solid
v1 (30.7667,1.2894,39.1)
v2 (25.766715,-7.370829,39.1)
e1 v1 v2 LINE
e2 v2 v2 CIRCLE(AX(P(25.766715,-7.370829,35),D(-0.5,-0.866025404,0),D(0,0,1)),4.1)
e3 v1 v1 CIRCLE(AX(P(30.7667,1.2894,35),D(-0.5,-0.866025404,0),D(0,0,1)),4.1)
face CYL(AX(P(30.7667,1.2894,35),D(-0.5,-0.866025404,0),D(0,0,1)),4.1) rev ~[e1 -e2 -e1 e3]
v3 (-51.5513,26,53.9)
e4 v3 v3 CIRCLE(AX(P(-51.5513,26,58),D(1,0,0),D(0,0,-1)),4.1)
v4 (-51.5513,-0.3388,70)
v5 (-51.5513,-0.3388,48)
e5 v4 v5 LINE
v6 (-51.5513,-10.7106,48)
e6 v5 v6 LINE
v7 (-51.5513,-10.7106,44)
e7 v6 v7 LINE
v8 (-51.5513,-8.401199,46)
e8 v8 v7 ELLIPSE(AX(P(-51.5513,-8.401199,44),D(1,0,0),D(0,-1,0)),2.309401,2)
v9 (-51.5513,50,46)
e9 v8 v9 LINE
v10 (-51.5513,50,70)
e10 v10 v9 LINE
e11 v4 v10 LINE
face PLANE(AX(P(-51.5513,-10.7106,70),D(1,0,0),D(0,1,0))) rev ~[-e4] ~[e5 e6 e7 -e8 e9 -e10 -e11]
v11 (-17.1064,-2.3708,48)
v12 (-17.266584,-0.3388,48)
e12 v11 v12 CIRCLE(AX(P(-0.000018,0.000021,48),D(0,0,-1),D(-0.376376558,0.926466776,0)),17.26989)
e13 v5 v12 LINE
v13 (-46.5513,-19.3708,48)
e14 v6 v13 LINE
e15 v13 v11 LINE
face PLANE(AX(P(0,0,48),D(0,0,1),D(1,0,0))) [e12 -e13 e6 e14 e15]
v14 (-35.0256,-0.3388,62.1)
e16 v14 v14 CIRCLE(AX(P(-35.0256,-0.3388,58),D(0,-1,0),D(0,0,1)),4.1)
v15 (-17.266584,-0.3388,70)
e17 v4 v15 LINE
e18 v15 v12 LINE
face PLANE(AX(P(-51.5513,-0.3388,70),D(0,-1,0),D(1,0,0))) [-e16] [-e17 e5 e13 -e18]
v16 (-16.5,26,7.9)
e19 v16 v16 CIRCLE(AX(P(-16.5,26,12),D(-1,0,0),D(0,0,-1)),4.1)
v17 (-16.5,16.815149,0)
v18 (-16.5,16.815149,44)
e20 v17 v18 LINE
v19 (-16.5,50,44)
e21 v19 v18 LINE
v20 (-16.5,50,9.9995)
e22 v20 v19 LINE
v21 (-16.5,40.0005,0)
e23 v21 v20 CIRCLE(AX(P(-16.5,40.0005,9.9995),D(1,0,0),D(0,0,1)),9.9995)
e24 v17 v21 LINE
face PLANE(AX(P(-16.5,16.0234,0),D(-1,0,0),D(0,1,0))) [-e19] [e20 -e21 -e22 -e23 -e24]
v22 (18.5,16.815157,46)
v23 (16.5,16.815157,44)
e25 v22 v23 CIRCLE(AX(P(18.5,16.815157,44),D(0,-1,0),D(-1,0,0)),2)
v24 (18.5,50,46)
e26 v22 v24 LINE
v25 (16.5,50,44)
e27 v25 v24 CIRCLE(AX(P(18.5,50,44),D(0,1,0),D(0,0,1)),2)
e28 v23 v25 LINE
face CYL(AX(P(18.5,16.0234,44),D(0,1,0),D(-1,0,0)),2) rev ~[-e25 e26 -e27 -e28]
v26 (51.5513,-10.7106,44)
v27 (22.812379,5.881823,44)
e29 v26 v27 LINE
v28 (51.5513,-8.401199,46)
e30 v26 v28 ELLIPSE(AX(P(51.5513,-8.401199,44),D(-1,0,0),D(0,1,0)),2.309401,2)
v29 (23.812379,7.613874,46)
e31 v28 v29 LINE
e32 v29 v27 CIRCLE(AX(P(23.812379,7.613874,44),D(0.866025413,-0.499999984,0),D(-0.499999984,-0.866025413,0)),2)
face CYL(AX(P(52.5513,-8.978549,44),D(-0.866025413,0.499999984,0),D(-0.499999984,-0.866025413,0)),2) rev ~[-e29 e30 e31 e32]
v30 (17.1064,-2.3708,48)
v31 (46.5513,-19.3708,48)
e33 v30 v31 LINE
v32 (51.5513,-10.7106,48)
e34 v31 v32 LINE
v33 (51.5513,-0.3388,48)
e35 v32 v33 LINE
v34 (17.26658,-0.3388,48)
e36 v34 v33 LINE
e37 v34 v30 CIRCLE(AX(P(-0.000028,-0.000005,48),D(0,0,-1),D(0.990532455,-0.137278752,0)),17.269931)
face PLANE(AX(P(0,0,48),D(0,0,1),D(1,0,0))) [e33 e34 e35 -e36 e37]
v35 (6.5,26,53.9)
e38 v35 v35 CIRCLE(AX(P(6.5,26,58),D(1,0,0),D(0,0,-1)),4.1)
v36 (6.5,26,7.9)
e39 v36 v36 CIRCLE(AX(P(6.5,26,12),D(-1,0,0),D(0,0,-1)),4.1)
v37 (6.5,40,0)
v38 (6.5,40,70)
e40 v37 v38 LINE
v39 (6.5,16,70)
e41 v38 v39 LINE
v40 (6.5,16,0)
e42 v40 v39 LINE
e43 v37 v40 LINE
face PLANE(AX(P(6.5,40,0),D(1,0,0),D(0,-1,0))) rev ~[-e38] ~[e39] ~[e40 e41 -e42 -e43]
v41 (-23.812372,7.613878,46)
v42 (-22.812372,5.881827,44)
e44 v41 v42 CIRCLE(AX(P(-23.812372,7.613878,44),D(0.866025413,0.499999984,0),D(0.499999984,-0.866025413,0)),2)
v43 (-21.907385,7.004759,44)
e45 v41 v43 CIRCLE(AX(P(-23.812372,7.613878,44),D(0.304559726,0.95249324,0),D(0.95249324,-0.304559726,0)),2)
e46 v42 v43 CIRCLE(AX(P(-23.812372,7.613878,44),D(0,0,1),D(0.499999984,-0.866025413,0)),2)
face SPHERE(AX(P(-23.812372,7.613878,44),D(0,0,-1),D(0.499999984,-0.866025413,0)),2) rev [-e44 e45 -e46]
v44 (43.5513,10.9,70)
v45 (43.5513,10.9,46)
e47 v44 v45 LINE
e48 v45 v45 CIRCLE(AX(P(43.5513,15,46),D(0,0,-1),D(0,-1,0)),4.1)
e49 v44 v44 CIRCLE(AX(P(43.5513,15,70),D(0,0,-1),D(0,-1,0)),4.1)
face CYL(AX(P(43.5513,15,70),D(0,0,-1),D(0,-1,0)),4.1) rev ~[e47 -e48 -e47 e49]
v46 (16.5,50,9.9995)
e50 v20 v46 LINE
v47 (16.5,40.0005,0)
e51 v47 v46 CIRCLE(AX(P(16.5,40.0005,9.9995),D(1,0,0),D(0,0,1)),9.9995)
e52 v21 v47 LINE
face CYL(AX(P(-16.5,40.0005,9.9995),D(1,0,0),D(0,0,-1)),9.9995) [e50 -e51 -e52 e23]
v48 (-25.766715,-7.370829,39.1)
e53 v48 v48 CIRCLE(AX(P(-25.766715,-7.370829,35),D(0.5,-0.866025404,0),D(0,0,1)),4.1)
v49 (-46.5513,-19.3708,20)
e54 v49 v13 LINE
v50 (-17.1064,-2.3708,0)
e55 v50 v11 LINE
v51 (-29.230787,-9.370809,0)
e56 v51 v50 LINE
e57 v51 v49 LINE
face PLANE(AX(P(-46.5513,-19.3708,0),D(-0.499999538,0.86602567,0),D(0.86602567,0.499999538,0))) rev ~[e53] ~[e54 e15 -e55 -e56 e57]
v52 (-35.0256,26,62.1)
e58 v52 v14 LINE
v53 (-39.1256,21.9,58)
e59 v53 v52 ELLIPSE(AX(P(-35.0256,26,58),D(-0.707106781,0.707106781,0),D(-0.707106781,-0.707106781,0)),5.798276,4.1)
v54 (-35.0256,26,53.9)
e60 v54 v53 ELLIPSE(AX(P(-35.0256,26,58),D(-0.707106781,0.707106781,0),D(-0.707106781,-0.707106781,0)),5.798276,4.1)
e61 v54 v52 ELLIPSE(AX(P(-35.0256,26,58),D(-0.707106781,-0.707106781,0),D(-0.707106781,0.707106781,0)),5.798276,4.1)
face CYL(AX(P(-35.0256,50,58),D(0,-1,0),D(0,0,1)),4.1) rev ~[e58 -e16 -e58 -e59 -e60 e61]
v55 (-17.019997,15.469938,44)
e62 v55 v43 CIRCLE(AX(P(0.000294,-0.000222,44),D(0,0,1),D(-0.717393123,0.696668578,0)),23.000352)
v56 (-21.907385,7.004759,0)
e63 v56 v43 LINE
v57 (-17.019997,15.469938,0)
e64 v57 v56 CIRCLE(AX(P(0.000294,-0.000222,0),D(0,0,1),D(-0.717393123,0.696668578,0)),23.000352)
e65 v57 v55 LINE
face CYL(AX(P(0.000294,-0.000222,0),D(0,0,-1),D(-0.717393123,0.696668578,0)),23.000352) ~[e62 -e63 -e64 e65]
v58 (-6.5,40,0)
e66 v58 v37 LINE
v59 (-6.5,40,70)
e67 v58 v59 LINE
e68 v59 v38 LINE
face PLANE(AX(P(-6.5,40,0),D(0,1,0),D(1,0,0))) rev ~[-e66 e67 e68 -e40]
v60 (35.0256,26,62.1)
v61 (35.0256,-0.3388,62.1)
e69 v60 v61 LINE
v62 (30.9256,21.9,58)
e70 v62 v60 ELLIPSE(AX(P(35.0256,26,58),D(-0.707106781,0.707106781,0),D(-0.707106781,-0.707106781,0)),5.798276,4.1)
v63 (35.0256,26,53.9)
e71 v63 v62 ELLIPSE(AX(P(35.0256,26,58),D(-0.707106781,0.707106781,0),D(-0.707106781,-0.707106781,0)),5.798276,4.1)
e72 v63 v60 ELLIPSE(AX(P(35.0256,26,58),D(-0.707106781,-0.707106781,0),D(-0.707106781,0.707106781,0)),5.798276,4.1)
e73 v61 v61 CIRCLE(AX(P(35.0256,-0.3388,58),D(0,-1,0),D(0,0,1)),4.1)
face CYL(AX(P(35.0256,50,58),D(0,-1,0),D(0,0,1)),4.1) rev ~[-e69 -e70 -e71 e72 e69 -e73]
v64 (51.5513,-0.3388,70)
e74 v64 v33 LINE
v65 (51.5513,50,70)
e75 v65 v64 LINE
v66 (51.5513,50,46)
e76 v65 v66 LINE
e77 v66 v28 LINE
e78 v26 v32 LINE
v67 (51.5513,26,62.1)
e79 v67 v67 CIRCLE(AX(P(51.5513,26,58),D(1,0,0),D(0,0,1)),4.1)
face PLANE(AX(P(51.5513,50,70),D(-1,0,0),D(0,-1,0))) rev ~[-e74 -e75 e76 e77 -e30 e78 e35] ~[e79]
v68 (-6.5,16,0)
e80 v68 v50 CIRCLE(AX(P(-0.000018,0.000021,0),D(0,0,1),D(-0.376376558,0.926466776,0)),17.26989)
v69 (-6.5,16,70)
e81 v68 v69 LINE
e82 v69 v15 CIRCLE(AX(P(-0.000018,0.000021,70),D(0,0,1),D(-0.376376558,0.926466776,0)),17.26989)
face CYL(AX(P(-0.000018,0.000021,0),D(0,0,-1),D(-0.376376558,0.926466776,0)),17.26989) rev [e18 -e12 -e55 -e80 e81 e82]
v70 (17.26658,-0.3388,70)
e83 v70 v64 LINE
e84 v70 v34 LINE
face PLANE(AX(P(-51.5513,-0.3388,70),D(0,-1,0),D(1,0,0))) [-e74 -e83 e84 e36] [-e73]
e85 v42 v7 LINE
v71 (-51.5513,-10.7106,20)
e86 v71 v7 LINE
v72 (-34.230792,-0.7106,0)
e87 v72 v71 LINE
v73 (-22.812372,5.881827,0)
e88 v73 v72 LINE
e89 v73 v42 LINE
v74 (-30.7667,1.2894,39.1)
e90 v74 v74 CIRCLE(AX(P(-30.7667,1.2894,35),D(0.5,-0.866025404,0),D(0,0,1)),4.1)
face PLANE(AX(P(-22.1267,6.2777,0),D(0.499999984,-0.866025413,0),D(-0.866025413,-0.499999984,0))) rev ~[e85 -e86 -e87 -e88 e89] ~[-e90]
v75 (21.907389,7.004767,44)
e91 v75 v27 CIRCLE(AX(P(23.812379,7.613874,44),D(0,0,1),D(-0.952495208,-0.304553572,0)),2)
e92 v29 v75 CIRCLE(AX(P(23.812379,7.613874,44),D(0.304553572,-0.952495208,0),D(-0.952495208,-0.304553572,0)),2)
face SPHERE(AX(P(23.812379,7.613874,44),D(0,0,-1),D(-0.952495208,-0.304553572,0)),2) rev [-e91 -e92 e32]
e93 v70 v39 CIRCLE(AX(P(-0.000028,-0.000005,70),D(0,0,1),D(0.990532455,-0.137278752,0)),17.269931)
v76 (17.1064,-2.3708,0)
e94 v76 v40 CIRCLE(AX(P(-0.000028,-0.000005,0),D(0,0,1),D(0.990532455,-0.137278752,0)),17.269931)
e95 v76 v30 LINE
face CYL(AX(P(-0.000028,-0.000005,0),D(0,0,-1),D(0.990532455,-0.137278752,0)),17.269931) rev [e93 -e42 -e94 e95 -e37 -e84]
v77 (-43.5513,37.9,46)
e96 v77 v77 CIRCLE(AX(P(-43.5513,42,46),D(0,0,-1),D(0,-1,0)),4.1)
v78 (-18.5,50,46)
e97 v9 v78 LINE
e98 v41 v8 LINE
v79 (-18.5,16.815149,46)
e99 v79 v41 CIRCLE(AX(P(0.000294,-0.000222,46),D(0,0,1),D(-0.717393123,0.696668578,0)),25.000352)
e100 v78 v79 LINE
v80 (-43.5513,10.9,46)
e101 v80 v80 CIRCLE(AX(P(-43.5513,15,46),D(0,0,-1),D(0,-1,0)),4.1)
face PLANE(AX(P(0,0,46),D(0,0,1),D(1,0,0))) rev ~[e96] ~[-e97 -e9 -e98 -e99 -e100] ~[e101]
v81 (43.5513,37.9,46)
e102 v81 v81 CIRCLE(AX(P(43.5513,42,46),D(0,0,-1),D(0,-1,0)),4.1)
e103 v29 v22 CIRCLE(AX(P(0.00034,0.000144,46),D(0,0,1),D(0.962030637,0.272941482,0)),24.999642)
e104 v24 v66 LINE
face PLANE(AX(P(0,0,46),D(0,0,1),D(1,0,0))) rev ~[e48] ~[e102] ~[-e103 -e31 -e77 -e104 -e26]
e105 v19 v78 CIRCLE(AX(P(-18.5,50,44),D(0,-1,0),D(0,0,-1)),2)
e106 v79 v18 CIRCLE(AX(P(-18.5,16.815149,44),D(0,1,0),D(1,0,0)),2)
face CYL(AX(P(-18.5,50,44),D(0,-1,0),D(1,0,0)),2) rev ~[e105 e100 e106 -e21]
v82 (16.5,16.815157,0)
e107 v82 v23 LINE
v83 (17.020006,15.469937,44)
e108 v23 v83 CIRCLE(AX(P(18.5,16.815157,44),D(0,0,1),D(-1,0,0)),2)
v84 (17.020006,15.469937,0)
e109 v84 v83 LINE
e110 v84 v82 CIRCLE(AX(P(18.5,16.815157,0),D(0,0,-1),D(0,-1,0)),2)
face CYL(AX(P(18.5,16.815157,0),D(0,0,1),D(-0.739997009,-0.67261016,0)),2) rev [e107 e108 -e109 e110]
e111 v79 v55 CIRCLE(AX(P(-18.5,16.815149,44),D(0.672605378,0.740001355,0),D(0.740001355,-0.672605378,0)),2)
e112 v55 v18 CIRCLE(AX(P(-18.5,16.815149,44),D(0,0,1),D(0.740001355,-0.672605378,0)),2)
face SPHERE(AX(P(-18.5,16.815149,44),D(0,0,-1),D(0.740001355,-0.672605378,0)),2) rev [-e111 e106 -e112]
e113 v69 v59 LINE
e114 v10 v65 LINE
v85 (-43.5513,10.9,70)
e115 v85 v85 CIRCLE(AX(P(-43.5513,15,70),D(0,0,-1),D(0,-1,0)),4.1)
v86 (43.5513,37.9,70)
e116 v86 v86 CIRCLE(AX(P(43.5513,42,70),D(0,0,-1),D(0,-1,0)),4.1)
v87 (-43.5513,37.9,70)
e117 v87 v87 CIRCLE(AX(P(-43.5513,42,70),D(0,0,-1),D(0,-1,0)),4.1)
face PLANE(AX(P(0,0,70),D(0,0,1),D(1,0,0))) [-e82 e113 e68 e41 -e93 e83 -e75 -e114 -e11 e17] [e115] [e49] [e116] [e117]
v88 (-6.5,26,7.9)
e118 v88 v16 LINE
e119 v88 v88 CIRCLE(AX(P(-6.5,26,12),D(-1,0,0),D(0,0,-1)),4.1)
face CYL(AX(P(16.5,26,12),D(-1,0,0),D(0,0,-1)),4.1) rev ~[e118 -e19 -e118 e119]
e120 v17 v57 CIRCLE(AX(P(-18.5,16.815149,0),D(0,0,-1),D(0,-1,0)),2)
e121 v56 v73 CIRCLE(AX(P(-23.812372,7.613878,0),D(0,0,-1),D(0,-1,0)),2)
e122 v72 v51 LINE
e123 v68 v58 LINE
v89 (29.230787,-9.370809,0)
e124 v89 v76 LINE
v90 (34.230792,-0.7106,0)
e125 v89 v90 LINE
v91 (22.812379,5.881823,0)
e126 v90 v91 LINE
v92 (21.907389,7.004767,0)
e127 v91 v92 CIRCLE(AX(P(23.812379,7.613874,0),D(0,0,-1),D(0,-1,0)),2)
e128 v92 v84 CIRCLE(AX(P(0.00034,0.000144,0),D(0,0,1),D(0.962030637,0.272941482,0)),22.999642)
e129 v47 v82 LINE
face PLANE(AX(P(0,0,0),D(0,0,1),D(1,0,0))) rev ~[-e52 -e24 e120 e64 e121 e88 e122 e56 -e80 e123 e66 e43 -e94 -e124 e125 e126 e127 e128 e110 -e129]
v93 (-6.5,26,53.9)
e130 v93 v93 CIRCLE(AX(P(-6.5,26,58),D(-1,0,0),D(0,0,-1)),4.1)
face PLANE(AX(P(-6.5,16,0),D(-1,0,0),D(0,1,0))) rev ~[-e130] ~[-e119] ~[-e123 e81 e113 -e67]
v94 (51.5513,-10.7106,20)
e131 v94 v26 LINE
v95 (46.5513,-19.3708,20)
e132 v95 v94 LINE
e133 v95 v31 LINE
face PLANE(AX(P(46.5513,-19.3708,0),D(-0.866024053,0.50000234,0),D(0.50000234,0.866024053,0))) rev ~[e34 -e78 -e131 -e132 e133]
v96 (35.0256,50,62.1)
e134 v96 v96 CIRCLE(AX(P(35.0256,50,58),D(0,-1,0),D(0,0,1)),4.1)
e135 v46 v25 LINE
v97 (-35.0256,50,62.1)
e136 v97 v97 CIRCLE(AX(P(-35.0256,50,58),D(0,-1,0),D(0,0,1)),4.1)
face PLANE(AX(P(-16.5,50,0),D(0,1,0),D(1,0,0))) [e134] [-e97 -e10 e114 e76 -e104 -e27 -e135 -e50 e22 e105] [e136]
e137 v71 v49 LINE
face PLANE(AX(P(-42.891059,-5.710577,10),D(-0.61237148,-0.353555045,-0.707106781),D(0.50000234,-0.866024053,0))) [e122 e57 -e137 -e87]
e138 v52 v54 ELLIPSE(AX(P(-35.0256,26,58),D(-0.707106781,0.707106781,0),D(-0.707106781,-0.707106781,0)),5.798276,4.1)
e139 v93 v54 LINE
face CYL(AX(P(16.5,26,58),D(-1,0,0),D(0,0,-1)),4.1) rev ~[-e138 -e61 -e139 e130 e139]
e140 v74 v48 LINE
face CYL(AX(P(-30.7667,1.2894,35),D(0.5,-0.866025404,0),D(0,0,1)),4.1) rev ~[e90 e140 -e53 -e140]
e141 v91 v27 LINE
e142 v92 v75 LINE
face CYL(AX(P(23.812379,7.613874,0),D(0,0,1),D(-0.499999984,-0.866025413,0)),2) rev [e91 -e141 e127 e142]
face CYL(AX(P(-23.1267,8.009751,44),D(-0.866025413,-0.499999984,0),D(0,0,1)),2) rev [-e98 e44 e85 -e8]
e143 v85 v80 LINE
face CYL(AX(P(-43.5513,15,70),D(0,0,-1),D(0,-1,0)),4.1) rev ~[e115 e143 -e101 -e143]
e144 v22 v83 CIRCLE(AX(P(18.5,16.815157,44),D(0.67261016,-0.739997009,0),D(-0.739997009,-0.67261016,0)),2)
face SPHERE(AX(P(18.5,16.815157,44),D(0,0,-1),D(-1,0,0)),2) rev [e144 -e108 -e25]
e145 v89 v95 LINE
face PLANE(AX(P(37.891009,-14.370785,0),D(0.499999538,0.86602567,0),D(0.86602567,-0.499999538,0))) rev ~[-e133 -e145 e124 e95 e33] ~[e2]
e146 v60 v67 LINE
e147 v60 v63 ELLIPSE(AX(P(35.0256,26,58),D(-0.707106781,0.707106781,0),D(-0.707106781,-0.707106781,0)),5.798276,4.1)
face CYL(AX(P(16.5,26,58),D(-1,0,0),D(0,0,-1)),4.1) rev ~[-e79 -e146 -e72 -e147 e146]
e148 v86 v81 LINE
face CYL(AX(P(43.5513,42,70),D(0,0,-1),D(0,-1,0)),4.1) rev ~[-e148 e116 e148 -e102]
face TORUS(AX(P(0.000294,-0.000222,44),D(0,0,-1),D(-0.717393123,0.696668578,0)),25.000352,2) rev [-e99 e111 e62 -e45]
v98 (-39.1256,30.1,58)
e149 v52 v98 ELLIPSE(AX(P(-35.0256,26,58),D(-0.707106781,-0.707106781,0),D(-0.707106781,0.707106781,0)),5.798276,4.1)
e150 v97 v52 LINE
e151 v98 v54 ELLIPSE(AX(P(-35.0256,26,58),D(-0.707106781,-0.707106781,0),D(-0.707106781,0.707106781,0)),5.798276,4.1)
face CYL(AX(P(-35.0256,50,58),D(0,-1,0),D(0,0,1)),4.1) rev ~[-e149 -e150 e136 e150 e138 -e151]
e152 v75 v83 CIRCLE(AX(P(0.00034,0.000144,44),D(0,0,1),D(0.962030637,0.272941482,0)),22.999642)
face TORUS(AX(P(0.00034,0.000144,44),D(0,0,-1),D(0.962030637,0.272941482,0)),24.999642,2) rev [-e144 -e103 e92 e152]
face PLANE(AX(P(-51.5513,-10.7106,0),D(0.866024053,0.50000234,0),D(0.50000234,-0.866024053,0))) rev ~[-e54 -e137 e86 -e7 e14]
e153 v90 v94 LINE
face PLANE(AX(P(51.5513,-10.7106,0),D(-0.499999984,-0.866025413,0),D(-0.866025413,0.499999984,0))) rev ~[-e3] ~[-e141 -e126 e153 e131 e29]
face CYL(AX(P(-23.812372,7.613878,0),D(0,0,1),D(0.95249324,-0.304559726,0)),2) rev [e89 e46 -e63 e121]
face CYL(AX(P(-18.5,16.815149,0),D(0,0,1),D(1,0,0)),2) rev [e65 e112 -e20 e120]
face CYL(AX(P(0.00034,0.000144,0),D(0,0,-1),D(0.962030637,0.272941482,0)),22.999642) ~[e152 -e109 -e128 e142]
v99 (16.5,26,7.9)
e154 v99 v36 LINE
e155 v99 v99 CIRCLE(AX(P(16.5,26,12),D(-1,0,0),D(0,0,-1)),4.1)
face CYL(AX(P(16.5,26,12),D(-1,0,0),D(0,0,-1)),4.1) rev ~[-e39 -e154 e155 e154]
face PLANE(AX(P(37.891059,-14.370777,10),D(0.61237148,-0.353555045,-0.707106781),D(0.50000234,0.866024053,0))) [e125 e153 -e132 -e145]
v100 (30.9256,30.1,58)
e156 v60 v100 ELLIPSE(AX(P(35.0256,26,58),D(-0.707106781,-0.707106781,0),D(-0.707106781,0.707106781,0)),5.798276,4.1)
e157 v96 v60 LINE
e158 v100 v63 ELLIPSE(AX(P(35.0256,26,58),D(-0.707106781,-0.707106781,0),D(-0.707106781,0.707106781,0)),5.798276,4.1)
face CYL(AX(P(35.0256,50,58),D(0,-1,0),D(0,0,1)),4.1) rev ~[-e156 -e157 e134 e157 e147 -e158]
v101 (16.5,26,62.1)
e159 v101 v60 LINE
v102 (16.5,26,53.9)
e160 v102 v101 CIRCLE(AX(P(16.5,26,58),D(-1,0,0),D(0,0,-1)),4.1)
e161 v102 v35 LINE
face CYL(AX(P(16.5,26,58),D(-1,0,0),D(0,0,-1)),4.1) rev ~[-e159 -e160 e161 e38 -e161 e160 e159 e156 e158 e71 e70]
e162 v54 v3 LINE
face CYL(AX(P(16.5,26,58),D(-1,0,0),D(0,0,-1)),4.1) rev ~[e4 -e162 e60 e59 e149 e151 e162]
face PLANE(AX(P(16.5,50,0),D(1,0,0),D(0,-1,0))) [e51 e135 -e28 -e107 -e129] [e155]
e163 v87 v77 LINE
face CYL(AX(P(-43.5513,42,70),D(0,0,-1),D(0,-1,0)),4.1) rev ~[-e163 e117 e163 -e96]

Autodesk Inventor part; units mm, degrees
ref_plane "YZ Plane" through (0, 0, 0) normal (1, 0, 0) x (0, 1, 0)
ref_plane "XZ Plane" through (0, 0, 0) normal (0, 1, 0) x (-1, 0, 0)
ref_plane "XY Plane" through (0, 0, 0) normal (0, 0, 1) x (1, 0, 0)
sketch "Sketch1" plane through (0, 0, 0) normal (0, 0, 1) x (1, 0, 0)
  circle A0 centre (0, 0) radius 15 construction
  circle A1 centre (0, 0) radius 26 construction
  line L0 (3.5, 37) -> (-3.5, 37) construction
  line L1 (-3.5, 37) -> (-3.5, 15) construction
  line L2 (-3.5, 15) -> (3.5, 15) construction
  line L3 (3.5, 15) -> (3.5, 37) construction
  line L4 (3.5, 37) -> (-3.5, 15) construction
  line L5 (-3.5, 37) -> (3.5, 15) construction
  line L6 (-6.5, 16) -> (-6.5, 40) construction
  line L7 (-6.5, 40) -> (6.5, 40) construction
  line L8 (6.5, 40) -> (6.5, 16) construction
  circle A2 centre (0, 0) radius 17.2699 construction
  line L9 (-16.5, 16) -> (-16.5, 50) construction
  line L10 (-16.5, 50) -> (16.5, 50) construction
  line L11 (16.5, 50) -> (16.5, 16) construction
  circle A3 centre (0, 0) radius 23 construction
  line L12 (-25, 26) -> (25, 26) construction
  line L13 (-25, 30) -> (25, 30) construction
  line L14 (-25, 22) -> (25, 22) construction
  line L15 (-35.0513, -39.2894) -> (-51.5513, -10.7106) construction
  line L16 (-31.391, -25.6292) -> (-37.891, -14.3708) construction
  line L17 (-5.6064, -22.2894) -> (-35.0513, -39.2894) construction
  line L18 (-51.5513, -10.7106) -> (-22.1064, 6.2894) construction
  line L19 (-37.891, -14.3708) -> (-17.1064, -2.3708) construction
  line L20 (-10.6064, -13.6292) -> (-31.391, -25.6292) construction
  line L21 (-30.2929, -21.5311) -> (-11.2404, -10.5311) construction
  line L22 (-11.2404, -10.5311) -> (-14.7404, -4.4689) construction
  line L23 (-14.7404, -4.4689) -> (-33.7929, -15.4689) construction
  line L24 (-33.7929, -15.4689) -> (-11.2404, -10.5311) construction
  line L25 (-30.2929, -21.5311) -> (-14.7404, -4.4689) construction
  line L26 (-33.7929, -15.4689) -> (-30.2929, -21.5311) construction
  line L27 (-13.4808, -36.6506) -> (-38.4808, 6.6506) construction
  line L28 (-10.0167, -34.6506) -> (-35.0167, 8.6506) construction
  line L29 (-6.5526, -32.6506) -> (-31.5526, 10.6506) construction
  line L30 (51.5513, -10.7106) -> (35.0513, -39.2894) construction
  line L31 (37.891, -14.3708) -> (31.391, -25.6292) construction
  line L32 (22.1064, 6.2894) -> (51.5513, -10.7106) construction
  line L33 (35.0513, -39.2894) -> (5.6064, -22.2894) construction
  line L34 (31.391, -25.6292) -> (10.6064, -13.6292) construction
  line L35 (17.1064, -2.3708) -> (37.891, -14.3708) construction
  line L36 (33.7929, -15.4689) -> (14.7404, -4.4689) construction
  line L37 (14.7404, -4.4689) -> (11.2404, -10.5311) construction
  line L38 (11.2404, -10.5311) -> (30.2929, -21.5311) construction
  line L39 (30.2929, -21.5311) -> (14.7404, -4.4689) construction
  line L40 (33.7929, -15.4689) -> (11.2404, -10.5311) construction
  line L41 (30.2929, -21.5311) -> (33.7929, -15.4689) construction
  line L42 (38.4808, 6.6506) -> (13.4808, -36.6506) construction
  line L43 (35.0167, 8.6506) -> (10.0167, -34.6506) construction
  line L44 (31.5526, 10.6506) -> (6.5526, -32.6506) construction
  line L45 (-16.5, 16.0234) -> (-16.5, 50)
  line L46 (-16.5, 50) -> (16.5, 50)
  line L47 (16.5, 50) -> (16.5, 16.0234)
  line L48 (-6.5, 16) -> (-6.5, 40)
  line L49 (-6.5, 40) -> (6.5, 40)
  line L50 (6.5, 40) -> (6.5, 16)
  line L51 (-22.1267, 6.2777) -> (-51.5513, -10.7106)
  line L52 (-51.5513, -10.7106) -> (-46.5513, -19.3708)
  line L53 (-46.5513, -19.3708) -> (-17.1064, -2.3708)
  line L54 (46.5513, -19.3708) -> (51.5513, -10.7106)
  line L55 (51.5513, -10.7106) -> (22.1267, 6.2777)
  line L56 (17.1064, -2.3708) -> (46.5513, -19.3708)
  line L57 (37.891, -14.3708) -> (31.391, -25.6292)
  arc A4 (-6.5, 16) -> (-17.1064, -2.3708) centre (0, 0) ccw
  arc A5 (-16.5, 16.0234) -> (-22.1267, 6.2777) centre (0, 0) ccw
  arc A6 (17.1064, -2.3708) -> (6.5, 16) centre (0, 0) ccw
  arc A7 (22.1267, 6.2777) -> (16.5, 16.0234) centre (0, 0) ccw
  point P0 (0, 26)
  point P1 (0, 26)
  point P2 (0, 26)
  point P3 (0, 30)
  point P4 (0, 22)
  point P5 (-25.9808, -15)
  point P6 (-22.5167, -13)
  point P7 (-22.5167, -13)
  point P8 (-22.5167, -13)
  point P9 (-5.6267, -22.3011)
  point P10 (-19.0526, -11)
  point P11 (25.9808, -15)
  point P12 (22.5167, -13)
  point P13 (22.5167, -13)
  point P14 (22.5167, -13)
  point P15 (19.0526, -11)
  dimension "d1" = 52
  dimension "d0" = 30
  dimension "d2" = 7
  dimension "d4" = 3
  dimension "d5" = 3
  dimension "d6" = 3
  dimension "d7" = 16
  dimension "d8" = 10
  dimension "d9" = 10
  dimension "d11" = 10
  dimension "d12" = 3
  dimension "d13" = 50
  dimension "d14" = 4
  dimension "d15" = 4
  dimension "d16" = 50
  dimension "d17" = 50
  dimension "d20" = 360
extrude "Extrusion3" add sketch "Sketch1" along normal blind 70
sketch "Sketch6" plane through (16.5, 16.0234, 0) normal (1, 0, 0) x (0, 0, -1)
  line L0 (0, 9.9766) -> (-71.7893, 9.9766) construction
  line L1 (-70, 0) -> (-70, 33.9766) construction
  point P0 (0, -16.0234)
  point P1 (0, 9.9766)
  point P2 (-58, 9.9766)
  point P3 (-12, 9.9766)
  dimension "d46" = 12
  dimension "d47" = 12
sketch "Sketch7" plane through (0, 0, 70) normal (0, 0, 1) x (1, 0, 0)
  line L0 (-22.1267, 6.2777) -> (-51.5513, -10.7106) projected
  line L1 (-51.5513, -10.7106) -> (-51.5513, 50)
  line L2 (-51.5513, 50) -> (-16.5, 50)
  line L3 (16.5, 16.0234) -> (16.5, 50) projected
  line L4 (16.5, 50) -> (51.5513, 50)
  line L5 (51.5513, 50) -> (51.5513, -10.7106)
  arc A0 (-16.5, 16.0234) -> (-22.1267, 6.2777) centre (0, 0) ccw projected
  line L6 (-16.5, 50) -> (-16.5, 16.0234) projected
  arc A1 (22.1267, 6.2777) -> (16.5, 16.0234) centre (0, 0) ccw projected
  line L7 (51.5513, -10.7106) -> (22.1267, 6.2777) projected
  line L8 (51.5513, 50) -> (51.5513, -10.7106)
  point P0 (0, 0)
  point P1 (16.5, 26)
extrude "Extrusion5" add sketch "Sketch7" against normal blind 24
hole "Hole3" at (16.5, 26, 58) at (16.5, 26, 12) direction (-1, 0, 0) diameter 8.2 end through all
hole "Hole4" at (-51.5513, 26, 58) direction (1, 0, 0) diameter 8.2 end through all
sketch "Sketch10" plane through (-22.1267, 6.2777, 46) normal (-0.5, 0.866, 0) x (0.866, 0.5, 0)
  line L0 (-9.9766, 46) -> (-9.9766, -2.7834) construction
  line L1 (-33.9766, 0) -> (0, 0) construction
  line L2 (-33.9766, 46) -> (-33.9766, -24) construction
  line L3 (-33.9766, 11) -> (0, 11) construction
  line L4 (0, 46) -> (0, 0) construction
  point P0 (16.0234, 46)
  point P1 (-9.9766, 46)
  point P2 (-9.9766, 11)
hole "Hole5" at (-30.7667, 1.2894, 35) direction (0.5, -0.866, 0) diameter 8.2 end through all
sketch "Sketch11" plane through (51.5513, -10.7106, 46) normal (0.5, 0.866, 0) x (0.866, -0.5, 0)
  line L0 (-24, 46) -> (-24, 0) construction
  line L1 (-33.9766, 0) -> (0, 0) construction
  line L2 (0, 46) -> (0, -24) construction
  line L3 (0, 11) -> (-34, 11) construction
  line L4 (-34, 46) -> (-34, -24) construction
  point P0 (-50, 46)
  point P1 (-24, 11)
hole "Hole6" at (30.7667, 1.2894, 35) direction (-0.5, -0.866, 0) diameter 8.2 end through all
fillet "Fillet2" radius 2 10 edges at (-36.839, -2.2164, 46) (-19.9186, 11.5, 46) (-16.5, 33.0117, 46) (-16.5, 16.0234, 23) (-22.1267, 6.2777, 23) (16.5, 16.0234, 23) (22.1267, 6.2777, 23) (16.5, 33.0117, 46) (19.9186, 11.5, 46) (36.839, -2.2164, 46)
fillet "Fillet3" radius 10 1 edges at (0, 50, 0)
chamfer "Chamfer1" distance 20 angle 45 2 edges at (49.0513, -15.0407, 0) (-49.0513, -15.0407, 0)
sketch "Sketch12" plane through (-51.5513, 50, 70) normal (0, 1, 0) x (1, 0, 0)
  line L0 (0, 0) -> (0, 24) construction
  line L1 (0, 12) -> (103.1025, 12) construction
  line L2 (103.1025, 0) -> (103.1025, 24) construction
  line L3 (0, 24) -> (33.0513, 24) construction
  line L4 (16.5256, 24) -> (16.5256, 0) construction
  line L5 (5, 0) -> (34.4449, 0) construction
  line L6 (70.0513, 24) -> (103.1025, 24) construction
  line L7 (86.5769, 24) -> (86.5769, 0) construction
  line L8 (103.1025, 0) -> (0, 0) construction
  point P0 (51.5513, 70)
  point P1 (86.5769, 12)
  point P2 (16.5256, 12)
hole "Hole7" at (35.0256, 50, 58) at (-35.0256, 50, 58) direction (0, -1, 0) diameter 8.2 end through all
sketch "Sketch13" plane through (0, 0, 70) normal (0, 0, 1) x (1, 0, 0)
  line L0 (51.5513, 50) -> (-51.5513, 50) construction
  line L1 (-43.5513, 50) -> (-43.5513, -5) construction
  line L2 (0, 50) -> (0, -7.7688) construction
  point P0 (0, 0)
  point P1 (-43.5513, 42)
  point P2 (-43.5513, 15)
  point P3 (-43.5513, 42)
  point P4 (-43.5513, 15)
  point P5 (43.5513, 42)
  point P6 (43.5513, 15)
  point P7 (43.5513, 42)
  point P8 (43.5513, 15)
  dimension "d95" = 8
  dimension "d96" = 8
  dimension "d97" = 35
hole "Hole8" at (-43.5513, 42, 70) at (-43.5513, 15, 70) at (43.5513, 42, 70) at (43.5513, 15, 70) direction (0, 0, -1) diameter 8.2 end through all
sketch "Sketch14" plane through (0, 0, 70) normal (0, 0, 1) x (1, 0, 0)
  point P0 (0, 0)
sketch "Sketch15" plane through (0, 0, 70) normal (0, 0, 1) x (1, 0, 0)
  line L0 (-51.5513, 50) -> (-51.5513, -10.7106) projected
  line L1 (51.5513, -10.7106) -> (51.5513, 50) projected
  line L2 (-51.5513, -0.3388) -> (51.5513, -0.3388)
  line L3 (51.5513, -0.3388) -> (51.5513, -25.3388)
  line L4 (51.5513, -25.3388) -> (-51.5513, -25.3388)
  line L5 (-51.5513, -25.3388) -> (-51.5513, -0.3388)
  point P0 (0, 0)
  dimension "d105" = 25
extrude "Extrusion6" cut sketch "Sketch15" against normal blind 22
equation "\"d5\" = d4"
equation "\"d6\" = d4"
equation "\"d9\" = d8"
equation "\"d15\" = d14"
equation "\"d16\" = d13"
equation "\"d17\" = d16"
equation "\"d46\" = d47"
equation "\"d50\" = 2 * d47"
properties part number "Linear_pipe" material "ABS Plastic"
